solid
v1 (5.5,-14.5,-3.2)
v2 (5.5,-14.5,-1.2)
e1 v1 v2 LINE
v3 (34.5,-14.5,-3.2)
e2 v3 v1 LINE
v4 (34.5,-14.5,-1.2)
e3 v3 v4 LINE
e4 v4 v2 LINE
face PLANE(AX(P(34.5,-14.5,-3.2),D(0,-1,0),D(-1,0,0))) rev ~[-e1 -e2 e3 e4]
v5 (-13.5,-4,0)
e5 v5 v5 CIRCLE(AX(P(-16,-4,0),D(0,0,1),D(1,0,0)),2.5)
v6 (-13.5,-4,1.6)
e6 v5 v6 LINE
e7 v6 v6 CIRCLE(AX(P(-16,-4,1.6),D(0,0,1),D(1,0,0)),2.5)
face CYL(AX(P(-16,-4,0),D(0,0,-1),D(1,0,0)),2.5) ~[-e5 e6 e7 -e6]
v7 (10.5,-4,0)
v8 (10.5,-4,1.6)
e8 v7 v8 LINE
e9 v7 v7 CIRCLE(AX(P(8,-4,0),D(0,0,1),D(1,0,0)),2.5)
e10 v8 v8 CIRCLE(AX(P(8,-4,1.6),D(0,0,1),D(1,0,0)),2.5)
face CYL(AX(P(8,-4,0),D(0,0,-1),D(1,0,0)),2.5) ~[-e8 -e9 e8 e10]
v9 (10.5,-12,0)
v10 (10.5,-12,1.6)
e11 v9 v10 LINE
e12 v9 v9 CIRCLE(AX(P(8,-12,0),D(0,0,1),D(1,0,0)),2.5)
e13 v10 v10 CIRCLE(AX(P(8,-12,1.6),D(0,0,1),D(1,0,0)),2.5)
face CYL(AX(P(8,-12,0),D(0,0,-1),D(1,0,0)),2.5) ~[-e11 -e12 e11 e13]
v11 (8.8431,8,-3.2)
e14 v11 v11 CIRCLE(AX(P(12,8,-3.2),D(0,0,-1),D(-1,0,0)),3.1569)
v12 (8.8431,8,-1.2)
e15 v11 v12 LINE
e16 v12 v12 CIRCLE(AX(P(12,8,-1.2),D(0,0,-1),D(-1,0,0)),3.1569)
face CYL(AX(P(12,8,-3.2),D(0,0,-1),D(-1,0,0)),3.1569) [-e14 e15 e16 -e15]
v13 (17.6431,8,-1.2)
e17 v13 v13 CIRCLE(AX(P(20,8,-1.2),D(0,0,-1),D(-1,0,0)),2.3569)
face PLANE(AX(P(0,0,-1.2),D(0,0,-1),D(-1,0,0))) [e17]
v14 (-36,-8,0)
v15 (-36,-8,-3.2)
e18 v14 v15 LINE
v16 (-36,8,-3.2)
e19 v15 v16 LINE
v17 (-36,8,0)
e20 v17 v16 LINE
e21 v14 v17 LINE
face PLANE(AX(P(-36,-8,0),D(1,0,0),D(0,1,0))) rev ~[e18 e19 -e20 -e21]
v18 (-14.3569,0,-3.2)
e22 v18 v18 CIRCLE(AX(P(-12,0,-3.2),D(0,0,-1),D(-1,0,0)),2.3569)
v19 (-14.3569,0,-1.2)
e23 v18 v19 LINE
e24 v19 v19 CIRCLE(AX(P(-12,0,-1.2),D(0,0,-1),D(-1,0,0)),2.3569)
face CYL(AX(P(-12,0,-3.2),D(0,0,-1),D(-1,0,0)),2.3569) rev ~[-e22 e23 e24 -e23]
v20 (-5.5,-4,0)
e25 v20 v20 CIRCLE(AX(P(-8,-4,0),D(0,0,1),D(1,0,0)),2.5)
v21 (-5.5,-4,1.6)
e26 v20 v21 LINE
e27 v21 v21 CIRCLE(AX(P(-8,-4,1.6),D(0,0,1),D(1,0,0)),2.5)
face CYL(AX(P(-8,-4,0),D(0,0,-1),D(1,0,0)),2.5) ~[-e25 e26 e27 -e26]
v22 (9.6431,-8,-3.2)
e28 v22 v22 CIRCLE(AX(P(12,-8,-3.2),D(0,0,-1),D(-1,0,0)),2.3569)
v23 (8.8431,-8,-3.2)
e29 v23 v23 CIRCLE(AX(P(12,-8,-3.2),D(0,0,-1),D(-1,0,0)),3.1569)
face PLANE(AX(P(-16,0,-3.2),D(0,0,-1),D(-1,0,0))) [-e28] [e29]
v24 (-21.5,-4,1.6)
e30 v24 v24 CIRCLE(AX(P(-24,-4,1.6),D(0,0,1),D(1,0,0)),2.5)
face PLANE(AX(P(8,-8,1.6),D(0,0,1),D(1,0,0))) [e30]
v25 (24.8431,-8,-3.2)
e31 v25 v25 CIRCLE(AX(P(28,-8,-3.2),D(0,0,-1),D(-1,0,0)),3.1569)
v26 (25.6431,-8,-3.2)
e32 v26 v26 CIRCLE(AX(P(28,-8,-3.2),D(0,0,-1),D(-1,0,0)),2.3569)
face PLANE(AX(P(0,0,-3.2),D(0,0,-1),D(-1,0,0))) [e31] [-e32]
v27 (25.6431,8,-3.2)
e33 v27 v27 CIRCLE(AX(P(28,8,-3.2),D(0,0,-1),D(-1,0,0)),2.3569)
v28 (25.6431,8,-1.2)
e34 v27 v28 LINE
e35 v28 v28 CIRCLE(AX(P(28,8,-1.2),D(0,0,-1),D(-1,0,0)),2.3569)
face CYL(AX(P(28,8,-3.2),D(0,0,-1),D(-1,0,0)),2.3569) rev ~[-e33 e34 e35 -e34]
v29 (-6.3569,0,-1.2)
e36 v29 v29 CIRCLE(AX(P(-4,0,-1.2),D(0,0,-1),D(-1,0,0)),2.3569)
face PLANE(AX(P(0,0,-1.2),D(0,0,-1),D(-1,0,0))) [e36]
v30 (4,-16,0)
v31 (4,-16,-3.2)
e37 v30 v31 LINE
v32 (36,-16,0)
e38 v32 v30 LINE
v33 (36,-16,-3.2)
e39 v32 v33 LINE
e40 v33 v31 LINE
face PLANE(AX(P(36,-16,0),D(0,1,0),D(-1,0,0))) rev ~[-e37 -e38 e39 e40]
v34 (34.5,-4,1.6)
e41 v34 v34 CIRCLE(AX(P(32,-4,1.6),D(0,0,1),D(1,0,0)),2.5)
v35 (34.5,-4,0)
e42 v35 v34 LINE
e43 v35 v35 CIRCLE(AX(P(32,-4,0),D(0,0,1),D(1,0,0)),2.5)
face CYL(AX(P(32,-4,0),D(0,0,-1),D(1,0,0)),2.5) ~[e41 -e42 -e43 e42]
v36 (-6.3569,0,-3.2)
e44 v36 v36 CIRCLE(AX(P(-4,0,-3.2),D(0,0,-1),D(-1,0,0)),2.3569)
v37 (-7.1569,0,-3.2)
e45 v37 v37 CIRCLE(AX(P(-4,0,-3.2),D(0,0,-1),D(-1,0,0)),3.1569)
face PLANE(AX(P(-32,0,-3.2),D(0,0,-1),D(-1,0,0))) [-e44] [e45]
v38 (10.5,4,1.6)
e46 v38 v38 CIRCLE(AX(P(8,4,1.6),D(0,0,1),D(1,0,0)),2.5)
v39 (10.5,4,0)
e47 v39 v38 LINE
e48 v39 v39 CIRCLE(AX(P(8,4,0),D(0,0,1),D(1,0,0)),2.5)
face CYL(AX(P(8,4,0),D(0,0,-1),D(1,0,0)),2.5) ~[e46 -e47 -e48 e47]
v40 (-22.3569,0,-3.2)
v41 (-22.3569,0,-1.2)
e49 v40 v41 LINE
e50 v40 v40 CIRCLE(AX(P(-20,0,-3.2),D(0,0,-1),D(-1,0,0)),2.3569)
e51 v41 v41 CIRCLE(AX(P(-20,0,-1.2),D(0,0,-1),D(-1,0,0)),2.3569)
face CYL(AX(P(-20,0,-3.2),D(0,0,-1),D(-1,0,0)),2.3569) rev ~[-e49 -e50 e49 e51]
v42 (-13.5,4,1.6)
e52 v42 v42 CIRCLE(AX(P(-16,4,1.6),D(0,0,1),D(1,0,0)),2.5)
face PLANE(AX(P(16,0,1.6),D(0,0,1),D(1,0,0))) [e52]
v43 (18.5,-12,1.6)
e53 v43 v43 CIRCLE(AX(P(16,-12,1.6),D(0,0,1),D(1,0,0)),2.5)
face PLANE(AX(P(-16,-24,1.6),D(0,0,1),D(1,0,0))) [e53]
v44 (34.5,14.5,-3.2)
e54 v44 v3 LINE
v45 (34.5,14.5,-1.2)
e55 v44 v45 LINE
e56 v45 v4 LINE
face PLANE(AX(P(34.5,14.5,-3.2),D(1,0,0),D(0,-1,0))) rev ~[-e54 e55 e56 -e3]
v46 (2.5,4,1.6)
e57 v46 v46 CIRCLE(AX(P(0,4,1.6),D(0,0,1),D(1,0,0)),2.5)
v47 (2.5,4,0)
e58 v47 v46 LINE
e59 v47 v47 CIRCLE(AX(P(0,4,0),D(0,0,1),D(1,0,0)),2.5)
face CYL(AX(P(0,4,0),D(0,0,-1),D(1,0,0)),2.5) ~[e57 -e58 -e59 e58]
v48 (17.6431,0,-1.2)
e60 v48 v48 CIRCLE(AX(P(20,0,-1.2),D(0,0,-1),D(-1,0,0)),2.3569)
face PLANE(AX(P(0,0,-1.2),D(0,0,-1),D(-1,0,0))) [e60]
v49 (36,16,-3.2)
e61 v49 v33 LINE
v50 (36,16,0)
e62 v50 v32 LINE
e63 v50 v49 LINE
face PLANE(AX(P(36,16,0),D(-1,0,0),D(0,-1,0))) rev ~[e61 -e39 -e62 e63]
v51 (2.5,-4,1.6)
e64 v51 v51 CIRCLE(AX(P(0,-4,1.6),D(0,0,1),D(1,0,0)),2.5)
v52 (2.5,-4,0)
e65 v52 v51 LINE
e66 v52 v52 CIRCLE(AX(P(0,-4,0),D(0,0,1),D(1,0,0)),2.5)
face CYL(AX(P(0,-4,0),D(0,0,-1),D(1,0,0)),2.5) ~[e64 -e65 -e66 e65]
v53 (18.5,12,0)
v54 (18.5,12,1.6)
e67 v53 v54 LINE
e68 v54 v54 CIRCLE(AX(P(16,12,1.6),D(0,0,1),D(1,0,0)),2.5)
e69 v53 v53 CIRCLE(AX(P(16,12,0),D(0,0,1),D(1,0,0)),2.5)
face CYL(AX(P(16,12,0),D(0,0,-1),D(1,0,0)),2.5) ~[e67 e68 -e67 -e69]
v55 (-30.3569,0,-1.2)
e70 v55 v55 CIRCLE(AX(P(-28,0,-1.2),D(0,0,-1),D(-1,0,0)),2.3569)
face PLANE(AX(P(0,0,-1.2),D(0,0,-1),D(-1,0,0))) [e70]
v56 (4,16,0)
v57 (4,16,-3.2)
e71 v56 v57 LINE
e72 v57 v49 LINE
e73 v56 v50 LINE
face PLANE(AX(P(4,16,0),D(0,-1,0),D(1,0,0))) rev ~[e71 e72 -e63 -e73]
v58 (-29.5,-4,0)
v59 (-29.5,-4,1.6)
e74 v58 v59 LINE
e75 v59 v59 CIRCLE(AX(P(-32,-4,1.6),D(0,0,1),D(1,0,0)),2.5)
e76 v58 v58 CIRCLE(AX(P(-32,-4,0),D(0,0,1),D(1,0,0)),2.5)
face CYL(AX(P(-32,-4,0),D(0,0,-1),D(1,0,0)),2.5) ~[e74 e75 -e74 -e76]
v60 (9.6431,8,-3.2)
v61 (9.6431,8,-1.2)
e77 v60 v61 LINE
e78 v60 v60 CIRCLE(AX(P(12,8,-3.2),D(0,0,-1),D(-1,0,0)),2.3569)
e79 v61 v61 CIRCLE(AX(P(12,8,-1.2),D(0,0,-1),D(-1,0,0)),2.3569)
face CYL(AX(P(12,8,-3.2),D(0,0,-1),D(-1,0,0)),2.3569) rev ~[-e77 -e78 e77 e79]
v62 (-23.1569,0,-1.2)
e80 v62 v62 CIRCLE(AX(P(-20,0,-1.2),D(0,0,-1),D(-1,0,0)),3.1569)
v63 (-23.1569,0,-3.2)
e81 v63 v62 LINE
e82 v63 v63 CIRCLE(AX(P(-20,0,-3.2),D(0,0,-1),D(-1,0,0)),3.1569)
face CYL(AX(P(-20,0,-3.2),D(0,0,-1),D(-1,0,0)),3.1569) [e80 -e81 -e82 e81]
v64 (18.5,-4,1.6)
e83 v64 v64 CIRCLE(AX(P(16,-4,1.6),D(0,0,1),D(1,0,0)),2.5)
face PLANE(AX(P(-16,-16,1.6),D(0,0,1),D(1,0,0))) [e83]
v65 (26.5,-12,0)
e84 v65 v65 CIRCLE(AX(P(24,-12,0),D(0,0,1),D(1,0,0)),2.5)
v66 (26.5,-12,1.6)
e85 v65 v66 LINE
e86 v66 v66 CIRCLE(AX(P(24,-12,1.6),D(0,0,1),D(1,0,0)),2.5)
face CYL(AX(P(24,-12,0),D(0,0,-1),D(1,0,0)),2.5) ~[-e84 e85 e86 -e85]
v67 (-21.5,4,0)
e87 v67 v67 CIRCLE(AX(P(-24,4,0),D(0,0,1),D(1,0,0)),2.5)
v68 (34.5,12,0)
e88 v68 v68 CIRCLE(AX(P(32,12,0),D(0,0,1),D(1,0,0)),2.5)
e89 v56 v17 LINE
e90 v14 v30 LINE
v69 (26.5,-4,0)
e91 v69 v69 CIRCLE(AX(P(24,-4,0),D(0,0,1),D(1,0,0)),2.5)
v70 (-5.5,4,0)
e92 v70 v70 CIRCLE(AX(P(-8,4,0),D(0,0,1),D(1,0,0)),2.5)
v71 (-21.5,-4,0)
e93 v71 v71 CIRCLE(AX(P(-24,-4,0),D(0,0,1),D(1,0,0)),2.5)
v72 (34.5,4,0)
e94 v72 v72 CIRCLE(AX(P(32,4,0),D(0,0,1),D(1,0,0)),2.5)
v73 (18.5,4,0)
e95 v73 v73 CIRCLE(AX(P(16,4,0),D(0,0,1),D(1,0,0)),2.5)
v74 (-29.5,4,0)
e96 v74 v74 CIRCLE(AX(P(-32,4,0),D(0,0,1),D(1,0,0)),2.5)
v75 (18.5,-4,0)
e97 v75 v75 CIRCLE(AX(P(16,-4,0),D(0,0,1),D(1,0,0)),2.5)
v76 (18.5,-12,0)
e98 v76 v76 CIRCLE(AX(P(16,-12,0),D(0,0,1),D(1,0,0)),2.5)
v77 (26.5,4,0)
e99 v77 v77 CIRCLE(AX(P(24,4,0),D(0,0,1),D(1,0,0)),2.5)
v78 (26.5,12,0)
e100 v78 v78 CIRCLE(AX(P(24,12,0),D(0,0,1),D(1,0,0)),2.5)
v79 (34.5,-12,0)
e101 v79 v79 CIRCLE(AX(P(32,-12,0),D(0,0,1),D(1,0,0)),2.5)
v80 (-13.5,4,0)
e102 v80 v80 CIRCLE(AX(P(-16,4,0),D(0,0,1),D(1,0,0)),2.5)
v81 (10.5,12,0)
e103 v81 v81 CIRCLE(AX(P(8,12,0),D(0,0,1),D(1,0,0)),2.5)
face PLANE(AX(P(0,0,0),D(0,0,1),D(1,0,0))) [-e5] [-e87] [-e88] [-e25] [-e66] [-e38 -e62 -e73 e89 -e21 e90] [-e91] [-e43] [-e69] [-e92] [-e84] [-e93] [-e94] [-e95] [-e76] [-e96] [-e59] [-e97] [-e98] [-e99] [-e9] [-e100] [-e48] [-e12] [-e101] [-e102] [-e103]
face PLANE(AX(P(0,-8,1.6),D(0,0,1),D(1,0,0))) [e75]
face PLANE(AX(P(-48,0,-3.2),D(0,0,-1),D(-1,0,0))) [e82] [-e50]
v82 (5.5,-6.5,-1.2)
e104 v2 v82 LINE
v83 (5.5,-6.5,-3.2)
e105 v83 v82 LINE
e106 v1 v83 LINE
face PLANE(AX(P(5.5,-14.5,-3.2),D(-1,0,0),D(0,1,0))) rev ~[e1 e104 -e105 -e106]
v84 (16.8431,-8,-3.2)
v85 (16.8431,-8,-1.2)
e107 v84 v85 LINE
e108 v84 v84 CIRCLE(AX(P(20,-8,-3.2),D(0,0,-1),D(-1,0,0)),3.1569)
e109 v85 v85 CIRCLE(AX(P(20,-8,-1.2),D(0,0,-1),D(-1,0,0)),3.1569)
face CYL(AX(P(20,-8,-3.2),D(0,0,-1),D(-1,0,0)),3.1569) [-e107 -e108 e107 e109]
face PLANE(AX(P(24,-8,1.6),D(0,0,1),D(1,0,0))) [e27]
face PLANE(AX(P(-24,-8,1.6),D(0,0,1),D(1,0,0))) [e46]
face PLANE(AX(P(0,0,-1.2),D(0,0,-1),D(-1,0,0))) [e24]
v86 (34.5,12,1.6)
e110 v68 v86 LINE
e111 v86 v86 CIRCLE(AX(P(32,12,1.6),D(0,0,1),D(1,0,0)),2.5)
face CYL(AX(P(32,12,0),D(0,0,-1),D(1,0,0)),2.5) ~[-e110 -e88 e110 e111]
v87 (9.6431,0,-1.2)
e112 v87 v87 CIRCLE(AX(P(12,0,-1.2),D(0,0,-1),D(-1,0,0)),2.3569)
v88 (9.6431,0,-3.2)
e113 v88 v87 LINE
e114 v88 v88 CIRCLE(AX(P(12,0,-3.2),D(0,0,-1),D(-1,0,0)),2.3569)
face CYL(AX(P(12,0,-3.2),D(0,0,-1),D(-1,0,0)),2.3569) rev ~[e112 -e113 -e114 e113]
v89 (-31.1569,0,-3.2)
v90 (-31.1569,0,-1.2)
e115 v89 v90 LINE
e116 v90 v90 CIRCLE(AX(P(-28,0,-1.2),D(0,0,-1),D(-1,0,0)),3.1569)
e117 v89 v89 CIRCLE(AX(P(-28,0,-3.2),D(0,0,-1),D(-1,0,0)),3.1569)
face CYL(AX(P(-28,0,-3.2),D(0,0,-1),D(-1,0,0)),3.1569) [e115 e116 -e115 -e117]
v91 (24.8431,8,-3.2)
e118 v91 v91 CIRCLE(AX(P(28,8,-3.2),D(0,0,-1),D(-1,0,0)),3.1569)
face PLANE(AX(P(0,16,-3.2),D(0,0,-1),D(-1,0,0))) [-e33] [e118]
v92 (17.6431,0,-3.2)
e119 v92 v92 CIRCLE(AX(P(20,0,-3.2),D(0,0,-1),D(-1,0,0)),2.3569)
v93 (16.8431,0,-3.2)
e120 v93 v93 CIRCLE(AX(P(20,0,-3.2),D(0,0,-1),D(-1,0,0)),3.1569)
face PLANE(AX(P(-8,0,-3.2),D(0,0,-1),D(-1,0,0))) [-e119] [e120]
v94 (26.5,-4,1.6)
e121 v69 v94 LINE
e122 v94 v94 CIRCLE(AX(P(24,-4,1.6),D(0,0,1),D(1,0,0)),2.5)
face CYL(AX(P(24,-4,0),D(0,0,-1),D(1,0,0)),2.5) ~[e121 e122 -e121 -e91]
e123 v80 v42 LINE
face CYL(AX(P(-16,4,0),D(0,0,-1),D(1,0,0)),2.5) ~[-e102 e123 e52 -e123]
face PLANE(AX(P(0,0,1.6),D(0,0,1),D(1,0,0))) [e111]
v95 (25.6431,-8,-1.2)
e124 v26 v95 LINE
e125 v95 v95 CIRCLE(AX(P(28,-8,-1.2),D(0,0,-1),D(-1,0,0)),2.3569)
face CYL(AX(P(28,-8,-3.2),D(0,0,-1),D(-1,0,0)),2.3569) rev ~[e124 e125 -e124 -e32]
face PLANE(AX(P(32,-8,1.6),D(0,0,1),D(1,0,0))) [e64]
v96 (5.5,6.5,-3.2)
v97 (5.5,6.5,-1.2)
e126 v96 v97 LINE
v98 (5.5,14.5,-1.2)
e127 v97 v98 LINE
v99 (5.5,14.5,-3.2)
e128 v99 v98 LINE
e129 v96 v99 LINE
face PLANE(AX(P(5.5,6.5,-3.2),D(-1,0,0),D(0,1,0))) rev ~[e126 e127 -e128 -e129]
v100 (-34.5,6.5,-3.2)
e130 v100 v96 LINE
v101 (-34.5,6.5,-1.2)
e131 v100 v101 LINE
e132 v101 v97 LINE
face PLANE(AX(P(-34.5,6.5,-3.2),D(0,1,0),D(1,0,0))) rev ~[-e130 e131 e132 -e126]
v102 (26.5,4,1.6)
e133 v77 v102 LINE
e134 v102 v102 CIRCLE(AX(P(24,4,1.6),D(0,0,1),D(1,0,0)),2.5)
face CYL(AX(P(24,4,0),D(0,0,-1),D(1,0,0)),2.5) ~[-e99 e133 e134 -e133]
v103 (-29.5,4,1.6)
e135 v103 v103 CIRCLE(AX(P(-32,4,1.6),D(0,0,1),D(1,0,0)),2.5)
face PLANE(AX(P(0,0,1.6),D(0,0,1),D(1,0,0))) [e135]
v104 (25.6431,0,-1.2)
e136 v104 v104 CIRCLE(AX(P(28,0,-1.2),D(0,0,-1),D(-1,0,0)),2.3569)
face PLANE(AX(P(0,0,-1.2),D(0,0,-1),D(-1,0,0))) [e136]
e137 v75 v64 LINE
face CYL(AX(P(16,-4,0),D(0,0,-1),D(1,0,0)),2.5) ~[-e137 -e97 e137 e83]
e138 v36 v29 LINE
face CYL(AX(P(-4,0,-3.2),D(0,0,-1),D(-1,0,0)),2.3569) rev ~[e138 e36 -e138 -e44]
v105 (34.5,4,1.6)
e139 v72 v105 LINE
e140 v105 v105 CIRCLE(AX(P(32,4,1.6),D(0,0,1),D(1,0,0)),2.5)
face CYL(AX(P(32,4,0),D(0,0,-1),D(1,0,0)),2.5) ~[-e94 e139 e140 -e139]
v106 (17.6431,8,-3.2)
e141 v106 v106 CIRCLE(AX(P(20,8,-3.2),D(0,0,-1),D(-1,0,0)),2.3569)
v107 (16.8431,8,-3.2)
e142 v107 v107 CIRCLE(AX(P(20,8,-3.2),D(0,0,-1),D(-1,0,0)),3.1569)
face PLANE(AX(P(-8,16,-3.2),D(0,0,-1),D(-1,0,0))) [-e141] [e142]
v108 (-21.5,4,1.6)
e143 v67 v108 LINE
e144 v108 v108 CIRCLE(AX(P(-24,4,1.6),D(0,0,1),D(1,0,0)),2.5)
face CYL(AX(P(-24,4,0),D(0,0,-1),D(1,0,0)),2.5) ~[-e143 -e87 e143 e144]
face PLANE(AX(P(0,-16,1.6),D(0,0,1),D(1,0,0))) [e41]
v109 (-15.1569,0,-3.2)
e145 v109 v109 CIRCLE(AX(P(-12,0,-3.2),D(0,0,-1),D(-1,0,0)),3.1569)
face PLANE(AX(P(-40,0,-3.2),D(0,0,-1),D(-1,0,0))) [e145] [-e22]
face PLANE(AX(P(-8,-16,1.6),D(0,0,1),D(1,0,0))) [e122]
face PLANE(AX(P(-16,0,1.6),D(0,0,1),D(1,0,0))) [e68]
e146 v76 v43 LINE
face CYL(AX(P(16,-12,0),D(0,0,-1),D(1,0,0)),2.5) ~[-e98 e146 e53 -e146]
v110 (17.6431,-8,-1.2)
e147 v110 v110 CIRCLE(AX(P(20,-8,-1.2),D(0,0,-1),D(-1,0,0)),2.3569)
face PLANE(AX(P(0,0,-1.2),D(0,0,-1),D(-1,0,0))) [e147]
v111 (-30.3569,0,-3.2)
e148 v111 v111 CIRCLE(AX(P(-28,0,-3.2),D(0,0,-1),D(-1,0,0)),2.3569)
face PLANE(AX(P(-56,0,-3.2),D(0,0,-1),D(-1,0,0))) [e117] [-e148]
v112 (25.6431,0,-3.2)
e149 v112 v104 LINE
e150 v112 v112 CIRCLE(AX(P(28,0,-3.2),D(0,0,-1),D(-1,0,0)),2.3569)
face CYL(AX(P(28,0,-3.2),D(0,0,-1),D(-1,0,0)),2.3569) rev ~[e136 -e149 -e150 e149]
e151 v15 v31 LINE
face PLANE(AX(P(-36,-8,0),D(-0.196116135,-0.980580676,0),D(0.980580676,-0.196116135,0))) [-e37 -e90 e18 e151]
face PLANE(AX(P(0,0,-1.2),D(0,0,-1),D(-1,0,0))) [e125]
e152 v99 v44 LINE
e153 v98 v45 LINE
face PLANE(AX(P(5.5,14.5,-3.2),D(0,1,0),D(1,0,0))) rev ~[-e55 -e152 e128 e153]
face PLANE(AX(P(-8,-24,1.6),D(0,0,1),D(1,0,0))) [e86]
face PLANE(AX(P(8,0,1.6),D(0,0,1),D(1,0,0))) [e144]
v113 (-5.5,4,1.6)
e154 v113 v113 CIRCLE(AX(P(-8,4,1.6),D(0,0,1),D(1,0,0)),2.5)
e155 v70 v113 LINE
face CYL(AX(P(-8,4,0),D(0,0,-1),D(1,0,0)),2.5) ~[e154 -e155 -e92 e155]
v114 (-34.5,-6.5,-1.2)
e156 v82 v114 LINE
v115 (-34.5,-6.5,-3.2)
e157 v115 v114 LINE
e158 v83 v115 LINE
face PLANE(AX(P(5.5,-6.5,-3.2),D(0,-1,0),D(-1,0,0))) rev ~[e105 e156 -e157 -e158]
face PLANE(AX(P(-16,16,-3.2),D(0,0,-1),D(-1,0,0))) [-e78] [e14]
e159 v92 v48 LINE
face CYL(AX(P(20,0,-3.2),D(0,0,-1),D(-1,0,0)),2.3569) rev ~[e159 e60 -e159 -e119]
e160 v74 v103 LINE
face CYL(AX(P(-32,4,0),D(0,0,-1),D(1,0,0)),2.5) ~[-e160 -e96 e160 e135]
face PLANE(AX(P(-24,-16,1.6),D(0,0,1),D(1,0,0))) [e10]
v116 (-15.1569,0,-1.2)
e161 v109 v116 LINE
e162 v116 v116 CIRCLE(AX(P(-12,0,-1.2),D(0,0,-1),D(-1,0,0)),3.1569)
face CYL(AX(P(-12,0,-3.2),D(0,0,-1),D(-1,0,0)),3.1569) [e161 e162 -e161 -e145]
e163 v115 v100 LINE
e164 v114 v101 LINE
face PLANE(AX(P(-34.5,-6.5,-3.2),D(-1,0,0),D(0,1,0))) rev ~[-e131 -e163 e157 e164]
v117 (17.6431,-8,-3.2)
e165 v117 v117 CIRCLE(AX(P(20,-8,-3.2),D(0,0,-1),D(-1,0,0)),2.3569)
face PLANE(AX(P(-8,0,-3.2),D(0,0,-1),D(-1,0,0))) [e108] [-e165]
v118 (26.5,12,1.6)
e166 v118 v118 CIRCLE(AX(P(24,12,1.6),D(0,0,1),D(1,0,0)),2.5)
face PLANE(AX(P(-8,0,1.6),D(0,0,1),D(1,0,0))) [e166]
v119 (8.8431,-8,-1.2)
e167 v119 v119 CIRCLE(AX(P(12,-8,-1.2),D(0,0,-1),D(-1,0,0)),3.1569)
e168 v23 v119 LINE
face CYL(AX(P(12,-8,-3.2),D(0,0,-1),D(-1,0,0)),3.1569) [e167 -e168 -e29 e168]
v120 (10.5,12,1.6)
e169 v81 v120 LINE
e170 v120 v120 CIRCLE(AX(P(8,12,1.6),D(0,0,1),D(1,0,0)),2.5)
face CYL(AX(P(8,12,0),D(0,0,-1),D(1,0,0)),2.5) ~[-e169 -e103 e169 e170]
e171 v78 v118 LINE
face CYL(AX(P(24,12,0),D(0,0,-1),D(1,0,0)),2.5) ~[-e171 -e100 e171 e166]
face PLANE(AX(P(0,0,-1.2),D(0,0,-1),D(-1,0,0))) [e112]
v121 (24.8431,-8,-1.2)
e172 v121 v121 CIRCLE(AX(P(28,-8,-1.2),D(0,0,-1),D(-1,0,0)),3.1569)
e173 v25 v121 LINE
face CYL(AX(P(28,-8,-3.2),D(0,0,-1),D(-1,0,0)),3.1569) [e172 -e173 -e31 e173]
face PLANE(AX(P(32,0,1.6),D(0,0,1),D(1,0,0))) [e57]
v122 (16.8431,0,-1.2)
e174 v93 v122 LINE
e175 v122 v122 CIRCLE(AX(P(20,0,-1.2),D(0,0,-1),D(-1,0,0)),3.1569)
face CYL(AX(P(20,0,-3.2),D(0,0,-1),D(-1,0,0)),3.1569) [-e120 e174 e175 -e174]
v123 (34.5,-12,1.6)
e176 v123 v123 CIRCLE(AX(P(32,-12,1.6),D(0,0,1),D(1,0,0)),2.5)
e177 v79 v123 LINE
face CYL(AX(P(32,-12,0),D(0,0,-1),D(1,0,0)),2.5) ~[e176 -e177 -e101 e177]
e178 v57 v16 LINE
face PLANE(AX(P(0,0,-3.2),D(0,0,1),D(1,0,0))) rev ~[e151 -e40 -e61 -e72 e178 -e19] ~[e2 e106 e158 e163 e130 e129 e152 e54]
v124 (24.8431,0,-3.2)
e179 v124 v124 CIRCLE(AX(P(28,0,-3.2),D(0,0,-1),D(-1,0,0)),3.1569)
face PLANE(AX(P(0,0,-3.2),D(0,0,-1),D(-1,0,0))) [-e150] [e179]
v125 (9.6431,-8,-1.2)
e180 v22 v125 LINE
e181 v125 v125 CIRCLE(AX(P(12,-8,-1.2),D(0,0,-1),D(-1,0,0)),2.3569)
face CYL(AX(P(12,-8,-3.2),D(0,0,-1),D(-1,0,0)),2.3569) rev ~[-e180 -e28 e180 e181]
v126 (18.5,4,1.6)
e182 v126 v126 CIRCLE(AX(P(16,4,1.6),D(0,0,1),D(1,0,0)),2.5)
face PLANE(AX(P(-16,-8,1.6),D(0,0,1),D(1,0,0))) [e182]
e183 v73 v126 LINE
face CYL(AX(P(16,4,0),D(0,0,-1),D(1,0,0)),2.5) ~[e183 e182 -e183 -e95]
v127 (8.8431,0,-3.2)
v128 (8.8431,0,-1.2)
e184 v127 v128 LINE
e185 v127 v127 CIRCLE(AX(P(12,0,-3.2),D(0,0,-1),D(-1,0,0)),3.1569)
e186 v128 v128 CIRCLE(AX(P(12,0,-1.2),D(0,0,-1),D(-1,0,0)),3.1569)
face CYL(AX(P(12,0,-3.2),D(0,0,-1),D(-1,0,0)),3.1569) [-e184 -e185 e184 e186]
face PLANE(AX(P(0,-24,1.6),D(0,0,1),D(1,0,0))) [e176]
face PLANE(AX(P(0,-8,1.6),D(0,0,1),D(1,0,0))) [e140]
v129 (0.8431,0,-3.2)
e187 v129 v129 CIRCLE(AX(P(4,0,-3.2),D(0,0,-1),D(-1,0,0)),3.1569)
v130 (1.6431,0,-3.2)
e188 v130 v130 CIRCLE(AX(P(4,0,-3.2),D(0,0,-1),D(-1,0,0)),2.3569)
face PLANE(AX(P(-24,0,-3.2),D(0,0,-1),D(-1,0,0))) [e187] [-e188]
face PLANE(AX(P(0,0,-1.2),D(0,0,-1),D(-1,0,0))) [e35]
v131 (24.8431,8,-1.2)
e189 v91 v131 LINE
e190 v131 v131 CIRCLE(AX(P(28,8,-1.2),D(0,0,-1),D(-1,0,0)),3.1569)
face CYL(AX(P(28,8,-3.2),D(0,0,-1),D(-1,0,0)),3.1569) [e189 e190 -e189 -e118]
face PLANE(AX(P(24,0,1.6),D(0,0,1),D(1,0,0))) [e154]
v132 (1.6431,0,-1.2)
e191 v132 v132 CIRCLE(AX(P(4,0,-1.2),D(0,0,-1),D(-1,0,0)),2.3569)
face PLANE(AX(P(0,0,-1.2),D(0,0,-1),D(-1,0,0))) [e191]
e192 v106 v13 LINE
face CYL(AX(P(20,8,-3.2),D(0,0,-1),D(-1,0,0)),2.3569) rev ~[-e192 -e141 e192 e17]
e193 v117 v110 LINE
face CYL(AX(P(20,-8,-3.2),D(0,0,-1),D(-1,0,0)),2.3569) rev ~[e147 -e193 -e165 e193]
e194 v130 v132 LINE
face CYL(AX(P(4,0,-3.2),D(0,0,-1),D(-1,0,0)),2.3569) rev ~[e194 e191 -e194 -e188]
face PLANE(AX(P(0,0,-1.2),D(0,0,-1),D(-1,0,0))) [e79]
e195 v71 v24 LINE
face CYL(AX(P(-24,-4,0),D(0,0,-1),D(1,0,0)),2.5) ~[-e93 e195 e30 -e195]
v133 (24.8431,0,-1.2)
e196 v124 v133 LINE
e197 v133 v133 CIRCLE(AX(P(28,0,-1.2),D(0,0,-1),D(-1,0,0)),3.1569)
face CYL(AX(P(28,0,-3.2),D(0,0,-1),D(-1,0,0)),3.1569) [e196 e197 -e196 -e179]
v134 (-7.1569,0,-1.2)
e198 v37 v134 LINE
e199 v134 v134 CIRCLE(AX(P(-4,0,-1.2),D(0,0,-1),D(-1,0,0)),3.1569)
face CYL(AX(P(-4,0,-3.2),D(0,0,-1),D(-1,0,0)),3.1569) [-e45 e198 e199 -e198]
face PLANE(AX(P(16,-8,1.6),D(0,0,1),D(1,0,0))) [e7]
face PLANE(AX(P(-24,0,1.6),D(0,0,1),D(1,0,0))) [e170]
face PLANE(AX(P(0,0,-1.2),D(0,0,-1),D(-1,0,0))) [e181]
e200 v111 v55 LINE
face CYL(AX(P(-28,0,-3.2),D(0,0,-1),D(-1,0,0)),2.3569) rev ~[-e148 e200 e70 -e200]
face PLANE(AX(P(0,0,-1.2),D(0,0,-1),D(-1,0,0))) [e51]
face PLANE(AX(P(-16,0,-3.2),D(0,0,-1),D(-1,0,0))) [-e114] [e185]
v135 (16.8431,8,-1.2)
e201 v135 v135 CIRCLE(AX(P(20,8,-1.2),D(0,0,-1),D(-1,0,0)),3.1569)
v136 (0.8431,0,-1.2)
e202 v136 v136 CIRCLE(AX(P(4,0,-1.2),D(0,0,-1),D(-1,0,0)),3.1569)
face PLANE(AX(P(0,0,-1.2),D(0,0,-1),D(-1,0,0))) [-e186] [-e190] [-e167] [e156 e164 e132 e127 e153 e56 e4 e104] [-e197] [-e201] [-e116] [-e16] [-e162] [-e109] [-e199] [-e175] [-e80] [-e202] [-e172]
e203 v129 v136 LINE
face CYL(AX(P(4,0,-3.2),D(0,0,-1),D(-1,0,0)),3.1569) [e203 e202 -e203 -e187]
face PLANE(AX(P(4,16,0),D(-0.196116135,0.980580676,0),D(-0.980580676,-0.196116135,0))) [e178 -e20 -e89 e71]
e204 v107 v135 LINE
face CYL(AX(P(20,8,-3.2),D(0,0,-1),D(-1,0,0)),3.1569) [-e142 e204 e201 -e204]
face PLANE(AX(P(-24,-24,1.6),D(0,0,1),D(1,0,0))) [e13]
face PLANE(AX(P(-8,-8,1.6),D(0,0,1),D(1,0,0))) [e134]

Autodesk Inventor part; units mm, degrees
ref_plane "YZ Plane" through (0, 0, 0) normal (1, 0, 0) x (0, 1, 0)
ref_plane "XZ Plane" through (0, 0, 0) normal (0, 1, 0) x (-1, 0, 0)
ref_plane "XY Plane" through (0, 0, 0) normal (0, 0, 1) x (1, 0, 0)
sketch "Sketch1" plane through (0, 0, 0) normal (0, 0, 1) x (1, 0, 0)
  line L0 (-36, 16) -> (36, 16)
  line L1 (36, 16) -> (36, -16)
  line L2 (36, -16) -> (-36, -16)
  line L3 (-36, -16) -> (-36, 16)
  line L4 (-36, -16) -> (36, 16) construction
  line L5 (4, 16) -> (-36, 8)
  line L6 (-36, -8) -> (4, -16)
  line L7 (4, 16) -> (4, -16) construction
  circle A0 centre (-32, 4) radius 2.5
  circle A1 centre (32, 12) radius 2.5
  point P0 (0, 0)
  point P1 (0, 0)
  dimension "d0" = 32
  dimension "d1" = 72
  dimension "d2" = 32
  dimension "d3" = 16
  dimension "d4" = 5
  dimension "d5" = 4
  dimension "d6" = 4
  dimension "d7" = 4
  dimension "d8" = 4
extrude "Extrusion1" add sketch "Sketch1" against normal blind 3.2 contours L0 L1 L2 L6 L3 L5 | A0 | A1
extrude "Extrusion2" add sketch "Sketch1" along normal blind 1.6 contours A0
pattern_linear "Rectangular Pattern1" count 5 spacing 8 along (1, 0, 0) count 2 spacing 8 along (0, -1, 0) of "Extrusion2"
extrude "Extrusion3" add sketch "Sketch1" along normal blind 1.6 contours A1
pattern_linear "Rectangular Pattern2" count 4 spacing 8 along (-1, 0, 0) count 4 spacing 8 along (0, -1, 0) of "Extrusion3"
sketch "Sketch2" plane through (0, 0, -3.2) normal (0, 0, -1) x (-1, 0, 0)
  circle A0 centre (32, 4) radius 2.5 construction
  circle A1 centre (24, 4) radius 2.5 construction
  circle A2 centre (16, 4) radius 2.5 construction
  circle A3 centre (8, 4) radius 2.5 construction
  circle A4 centre (0, 4) radius 2.5 construction
  circle A5 centre (-8, 4) radius 2.5 construction
  circle A6 centre (-16, 4) radius 2.5 construction
  circle A7 centre (-24, 4) radius 2.5 construction
  circle A8 centre (-32, 4) radius 2.5 construction
  circle A9 centre (-32, 12) radius 2.5 construction
  circle A10 centre (-24, 12) radius 2.5 construction
  circle A11 centre (-16, 12) radius 2.5 construction
  circle A12 centre (-8, 12) radius 2.5 construction
  circle A13 centre (-32, -4) radius 2.5 construction
  circle A14 centre (-24, -4) radius 2.5 construction
  circle A15 centre (-16, -4) radius 2.5 construction
  circle A16 centre (-8, -4) radius 2.5 construction
  circle A17 centre (0, -4) radius 2.5 construction
  circle A18 centre (8, -4) radius 2.5 construction
  circle A19 centre (16, -4) radius 2.5 construction
  circle A20 centre (24, -4) radius 2.5 construction
  circle A21 centre (32, -4) radius 2.5 construction
  circle A22 centre (-8, -12) radius 2.5 construction
  circle A23 centre (-16, -12) radius 2.5 construction
  circle A24 centre (-24, -12) radius 2.5 construction
  circle A25 centre (-32, -12) radius 2.5 construction
  line L0 (-34.5, -14.5) -> (-5.5, -14.5)
  line L1 (-5.5, -14.5) -> (-5.5, -6.5)
  line L2 (-5.5, -6.5) -> (34.5, -6.5)
  line L3 (34.5, -6.5) -> (34.5, 6.5)
  line L4 (34.5, 6.5) -> (-5.5, 6.5)
  line L5 (-5.5, 6.5) -> (-5.5, 14.5)
  line L6 (-5.5, 14.5) -> (-34.5, 14.5)
  line L7 (-34.5, 14.5) -> (-34.5, -14.5)
  circle A26 centre (-28, -8) radius 3.1569
  circle A27 centre (-28, -8) radius 2.3569
  circle A28 centre (-28, 0) radius 3.1569
  circle A29 centre (-28, 0) radius 2.3569
  dimension "d27" = 0.8
extrude "Extrusion4" cut sketch "Sketch2" against normal blind 2 contours L7 L6 L5 L4 L3 L2 L1 L0 | A26 | A27 | A28 | A29
extrude "Extrusion5" add sketch "Sketch2" against normal blind 2 contours A26
extrude "Extrusion6" add sketch "Sketch2" against normal blind 2 contours A28
pattern_linear "Rectangular Pattern3" count 3 spacing 8 along (-1, 0, 0) count 2 spacing 16 along (0, 1, 0) of "Extrusion5"
pattern_linear "Rectangular Pattern4" count 8 spacing 8 along (-1, 0, 0) of "Extrusion6"
properties part number "LEGO Brick 2413" material "Steel"
